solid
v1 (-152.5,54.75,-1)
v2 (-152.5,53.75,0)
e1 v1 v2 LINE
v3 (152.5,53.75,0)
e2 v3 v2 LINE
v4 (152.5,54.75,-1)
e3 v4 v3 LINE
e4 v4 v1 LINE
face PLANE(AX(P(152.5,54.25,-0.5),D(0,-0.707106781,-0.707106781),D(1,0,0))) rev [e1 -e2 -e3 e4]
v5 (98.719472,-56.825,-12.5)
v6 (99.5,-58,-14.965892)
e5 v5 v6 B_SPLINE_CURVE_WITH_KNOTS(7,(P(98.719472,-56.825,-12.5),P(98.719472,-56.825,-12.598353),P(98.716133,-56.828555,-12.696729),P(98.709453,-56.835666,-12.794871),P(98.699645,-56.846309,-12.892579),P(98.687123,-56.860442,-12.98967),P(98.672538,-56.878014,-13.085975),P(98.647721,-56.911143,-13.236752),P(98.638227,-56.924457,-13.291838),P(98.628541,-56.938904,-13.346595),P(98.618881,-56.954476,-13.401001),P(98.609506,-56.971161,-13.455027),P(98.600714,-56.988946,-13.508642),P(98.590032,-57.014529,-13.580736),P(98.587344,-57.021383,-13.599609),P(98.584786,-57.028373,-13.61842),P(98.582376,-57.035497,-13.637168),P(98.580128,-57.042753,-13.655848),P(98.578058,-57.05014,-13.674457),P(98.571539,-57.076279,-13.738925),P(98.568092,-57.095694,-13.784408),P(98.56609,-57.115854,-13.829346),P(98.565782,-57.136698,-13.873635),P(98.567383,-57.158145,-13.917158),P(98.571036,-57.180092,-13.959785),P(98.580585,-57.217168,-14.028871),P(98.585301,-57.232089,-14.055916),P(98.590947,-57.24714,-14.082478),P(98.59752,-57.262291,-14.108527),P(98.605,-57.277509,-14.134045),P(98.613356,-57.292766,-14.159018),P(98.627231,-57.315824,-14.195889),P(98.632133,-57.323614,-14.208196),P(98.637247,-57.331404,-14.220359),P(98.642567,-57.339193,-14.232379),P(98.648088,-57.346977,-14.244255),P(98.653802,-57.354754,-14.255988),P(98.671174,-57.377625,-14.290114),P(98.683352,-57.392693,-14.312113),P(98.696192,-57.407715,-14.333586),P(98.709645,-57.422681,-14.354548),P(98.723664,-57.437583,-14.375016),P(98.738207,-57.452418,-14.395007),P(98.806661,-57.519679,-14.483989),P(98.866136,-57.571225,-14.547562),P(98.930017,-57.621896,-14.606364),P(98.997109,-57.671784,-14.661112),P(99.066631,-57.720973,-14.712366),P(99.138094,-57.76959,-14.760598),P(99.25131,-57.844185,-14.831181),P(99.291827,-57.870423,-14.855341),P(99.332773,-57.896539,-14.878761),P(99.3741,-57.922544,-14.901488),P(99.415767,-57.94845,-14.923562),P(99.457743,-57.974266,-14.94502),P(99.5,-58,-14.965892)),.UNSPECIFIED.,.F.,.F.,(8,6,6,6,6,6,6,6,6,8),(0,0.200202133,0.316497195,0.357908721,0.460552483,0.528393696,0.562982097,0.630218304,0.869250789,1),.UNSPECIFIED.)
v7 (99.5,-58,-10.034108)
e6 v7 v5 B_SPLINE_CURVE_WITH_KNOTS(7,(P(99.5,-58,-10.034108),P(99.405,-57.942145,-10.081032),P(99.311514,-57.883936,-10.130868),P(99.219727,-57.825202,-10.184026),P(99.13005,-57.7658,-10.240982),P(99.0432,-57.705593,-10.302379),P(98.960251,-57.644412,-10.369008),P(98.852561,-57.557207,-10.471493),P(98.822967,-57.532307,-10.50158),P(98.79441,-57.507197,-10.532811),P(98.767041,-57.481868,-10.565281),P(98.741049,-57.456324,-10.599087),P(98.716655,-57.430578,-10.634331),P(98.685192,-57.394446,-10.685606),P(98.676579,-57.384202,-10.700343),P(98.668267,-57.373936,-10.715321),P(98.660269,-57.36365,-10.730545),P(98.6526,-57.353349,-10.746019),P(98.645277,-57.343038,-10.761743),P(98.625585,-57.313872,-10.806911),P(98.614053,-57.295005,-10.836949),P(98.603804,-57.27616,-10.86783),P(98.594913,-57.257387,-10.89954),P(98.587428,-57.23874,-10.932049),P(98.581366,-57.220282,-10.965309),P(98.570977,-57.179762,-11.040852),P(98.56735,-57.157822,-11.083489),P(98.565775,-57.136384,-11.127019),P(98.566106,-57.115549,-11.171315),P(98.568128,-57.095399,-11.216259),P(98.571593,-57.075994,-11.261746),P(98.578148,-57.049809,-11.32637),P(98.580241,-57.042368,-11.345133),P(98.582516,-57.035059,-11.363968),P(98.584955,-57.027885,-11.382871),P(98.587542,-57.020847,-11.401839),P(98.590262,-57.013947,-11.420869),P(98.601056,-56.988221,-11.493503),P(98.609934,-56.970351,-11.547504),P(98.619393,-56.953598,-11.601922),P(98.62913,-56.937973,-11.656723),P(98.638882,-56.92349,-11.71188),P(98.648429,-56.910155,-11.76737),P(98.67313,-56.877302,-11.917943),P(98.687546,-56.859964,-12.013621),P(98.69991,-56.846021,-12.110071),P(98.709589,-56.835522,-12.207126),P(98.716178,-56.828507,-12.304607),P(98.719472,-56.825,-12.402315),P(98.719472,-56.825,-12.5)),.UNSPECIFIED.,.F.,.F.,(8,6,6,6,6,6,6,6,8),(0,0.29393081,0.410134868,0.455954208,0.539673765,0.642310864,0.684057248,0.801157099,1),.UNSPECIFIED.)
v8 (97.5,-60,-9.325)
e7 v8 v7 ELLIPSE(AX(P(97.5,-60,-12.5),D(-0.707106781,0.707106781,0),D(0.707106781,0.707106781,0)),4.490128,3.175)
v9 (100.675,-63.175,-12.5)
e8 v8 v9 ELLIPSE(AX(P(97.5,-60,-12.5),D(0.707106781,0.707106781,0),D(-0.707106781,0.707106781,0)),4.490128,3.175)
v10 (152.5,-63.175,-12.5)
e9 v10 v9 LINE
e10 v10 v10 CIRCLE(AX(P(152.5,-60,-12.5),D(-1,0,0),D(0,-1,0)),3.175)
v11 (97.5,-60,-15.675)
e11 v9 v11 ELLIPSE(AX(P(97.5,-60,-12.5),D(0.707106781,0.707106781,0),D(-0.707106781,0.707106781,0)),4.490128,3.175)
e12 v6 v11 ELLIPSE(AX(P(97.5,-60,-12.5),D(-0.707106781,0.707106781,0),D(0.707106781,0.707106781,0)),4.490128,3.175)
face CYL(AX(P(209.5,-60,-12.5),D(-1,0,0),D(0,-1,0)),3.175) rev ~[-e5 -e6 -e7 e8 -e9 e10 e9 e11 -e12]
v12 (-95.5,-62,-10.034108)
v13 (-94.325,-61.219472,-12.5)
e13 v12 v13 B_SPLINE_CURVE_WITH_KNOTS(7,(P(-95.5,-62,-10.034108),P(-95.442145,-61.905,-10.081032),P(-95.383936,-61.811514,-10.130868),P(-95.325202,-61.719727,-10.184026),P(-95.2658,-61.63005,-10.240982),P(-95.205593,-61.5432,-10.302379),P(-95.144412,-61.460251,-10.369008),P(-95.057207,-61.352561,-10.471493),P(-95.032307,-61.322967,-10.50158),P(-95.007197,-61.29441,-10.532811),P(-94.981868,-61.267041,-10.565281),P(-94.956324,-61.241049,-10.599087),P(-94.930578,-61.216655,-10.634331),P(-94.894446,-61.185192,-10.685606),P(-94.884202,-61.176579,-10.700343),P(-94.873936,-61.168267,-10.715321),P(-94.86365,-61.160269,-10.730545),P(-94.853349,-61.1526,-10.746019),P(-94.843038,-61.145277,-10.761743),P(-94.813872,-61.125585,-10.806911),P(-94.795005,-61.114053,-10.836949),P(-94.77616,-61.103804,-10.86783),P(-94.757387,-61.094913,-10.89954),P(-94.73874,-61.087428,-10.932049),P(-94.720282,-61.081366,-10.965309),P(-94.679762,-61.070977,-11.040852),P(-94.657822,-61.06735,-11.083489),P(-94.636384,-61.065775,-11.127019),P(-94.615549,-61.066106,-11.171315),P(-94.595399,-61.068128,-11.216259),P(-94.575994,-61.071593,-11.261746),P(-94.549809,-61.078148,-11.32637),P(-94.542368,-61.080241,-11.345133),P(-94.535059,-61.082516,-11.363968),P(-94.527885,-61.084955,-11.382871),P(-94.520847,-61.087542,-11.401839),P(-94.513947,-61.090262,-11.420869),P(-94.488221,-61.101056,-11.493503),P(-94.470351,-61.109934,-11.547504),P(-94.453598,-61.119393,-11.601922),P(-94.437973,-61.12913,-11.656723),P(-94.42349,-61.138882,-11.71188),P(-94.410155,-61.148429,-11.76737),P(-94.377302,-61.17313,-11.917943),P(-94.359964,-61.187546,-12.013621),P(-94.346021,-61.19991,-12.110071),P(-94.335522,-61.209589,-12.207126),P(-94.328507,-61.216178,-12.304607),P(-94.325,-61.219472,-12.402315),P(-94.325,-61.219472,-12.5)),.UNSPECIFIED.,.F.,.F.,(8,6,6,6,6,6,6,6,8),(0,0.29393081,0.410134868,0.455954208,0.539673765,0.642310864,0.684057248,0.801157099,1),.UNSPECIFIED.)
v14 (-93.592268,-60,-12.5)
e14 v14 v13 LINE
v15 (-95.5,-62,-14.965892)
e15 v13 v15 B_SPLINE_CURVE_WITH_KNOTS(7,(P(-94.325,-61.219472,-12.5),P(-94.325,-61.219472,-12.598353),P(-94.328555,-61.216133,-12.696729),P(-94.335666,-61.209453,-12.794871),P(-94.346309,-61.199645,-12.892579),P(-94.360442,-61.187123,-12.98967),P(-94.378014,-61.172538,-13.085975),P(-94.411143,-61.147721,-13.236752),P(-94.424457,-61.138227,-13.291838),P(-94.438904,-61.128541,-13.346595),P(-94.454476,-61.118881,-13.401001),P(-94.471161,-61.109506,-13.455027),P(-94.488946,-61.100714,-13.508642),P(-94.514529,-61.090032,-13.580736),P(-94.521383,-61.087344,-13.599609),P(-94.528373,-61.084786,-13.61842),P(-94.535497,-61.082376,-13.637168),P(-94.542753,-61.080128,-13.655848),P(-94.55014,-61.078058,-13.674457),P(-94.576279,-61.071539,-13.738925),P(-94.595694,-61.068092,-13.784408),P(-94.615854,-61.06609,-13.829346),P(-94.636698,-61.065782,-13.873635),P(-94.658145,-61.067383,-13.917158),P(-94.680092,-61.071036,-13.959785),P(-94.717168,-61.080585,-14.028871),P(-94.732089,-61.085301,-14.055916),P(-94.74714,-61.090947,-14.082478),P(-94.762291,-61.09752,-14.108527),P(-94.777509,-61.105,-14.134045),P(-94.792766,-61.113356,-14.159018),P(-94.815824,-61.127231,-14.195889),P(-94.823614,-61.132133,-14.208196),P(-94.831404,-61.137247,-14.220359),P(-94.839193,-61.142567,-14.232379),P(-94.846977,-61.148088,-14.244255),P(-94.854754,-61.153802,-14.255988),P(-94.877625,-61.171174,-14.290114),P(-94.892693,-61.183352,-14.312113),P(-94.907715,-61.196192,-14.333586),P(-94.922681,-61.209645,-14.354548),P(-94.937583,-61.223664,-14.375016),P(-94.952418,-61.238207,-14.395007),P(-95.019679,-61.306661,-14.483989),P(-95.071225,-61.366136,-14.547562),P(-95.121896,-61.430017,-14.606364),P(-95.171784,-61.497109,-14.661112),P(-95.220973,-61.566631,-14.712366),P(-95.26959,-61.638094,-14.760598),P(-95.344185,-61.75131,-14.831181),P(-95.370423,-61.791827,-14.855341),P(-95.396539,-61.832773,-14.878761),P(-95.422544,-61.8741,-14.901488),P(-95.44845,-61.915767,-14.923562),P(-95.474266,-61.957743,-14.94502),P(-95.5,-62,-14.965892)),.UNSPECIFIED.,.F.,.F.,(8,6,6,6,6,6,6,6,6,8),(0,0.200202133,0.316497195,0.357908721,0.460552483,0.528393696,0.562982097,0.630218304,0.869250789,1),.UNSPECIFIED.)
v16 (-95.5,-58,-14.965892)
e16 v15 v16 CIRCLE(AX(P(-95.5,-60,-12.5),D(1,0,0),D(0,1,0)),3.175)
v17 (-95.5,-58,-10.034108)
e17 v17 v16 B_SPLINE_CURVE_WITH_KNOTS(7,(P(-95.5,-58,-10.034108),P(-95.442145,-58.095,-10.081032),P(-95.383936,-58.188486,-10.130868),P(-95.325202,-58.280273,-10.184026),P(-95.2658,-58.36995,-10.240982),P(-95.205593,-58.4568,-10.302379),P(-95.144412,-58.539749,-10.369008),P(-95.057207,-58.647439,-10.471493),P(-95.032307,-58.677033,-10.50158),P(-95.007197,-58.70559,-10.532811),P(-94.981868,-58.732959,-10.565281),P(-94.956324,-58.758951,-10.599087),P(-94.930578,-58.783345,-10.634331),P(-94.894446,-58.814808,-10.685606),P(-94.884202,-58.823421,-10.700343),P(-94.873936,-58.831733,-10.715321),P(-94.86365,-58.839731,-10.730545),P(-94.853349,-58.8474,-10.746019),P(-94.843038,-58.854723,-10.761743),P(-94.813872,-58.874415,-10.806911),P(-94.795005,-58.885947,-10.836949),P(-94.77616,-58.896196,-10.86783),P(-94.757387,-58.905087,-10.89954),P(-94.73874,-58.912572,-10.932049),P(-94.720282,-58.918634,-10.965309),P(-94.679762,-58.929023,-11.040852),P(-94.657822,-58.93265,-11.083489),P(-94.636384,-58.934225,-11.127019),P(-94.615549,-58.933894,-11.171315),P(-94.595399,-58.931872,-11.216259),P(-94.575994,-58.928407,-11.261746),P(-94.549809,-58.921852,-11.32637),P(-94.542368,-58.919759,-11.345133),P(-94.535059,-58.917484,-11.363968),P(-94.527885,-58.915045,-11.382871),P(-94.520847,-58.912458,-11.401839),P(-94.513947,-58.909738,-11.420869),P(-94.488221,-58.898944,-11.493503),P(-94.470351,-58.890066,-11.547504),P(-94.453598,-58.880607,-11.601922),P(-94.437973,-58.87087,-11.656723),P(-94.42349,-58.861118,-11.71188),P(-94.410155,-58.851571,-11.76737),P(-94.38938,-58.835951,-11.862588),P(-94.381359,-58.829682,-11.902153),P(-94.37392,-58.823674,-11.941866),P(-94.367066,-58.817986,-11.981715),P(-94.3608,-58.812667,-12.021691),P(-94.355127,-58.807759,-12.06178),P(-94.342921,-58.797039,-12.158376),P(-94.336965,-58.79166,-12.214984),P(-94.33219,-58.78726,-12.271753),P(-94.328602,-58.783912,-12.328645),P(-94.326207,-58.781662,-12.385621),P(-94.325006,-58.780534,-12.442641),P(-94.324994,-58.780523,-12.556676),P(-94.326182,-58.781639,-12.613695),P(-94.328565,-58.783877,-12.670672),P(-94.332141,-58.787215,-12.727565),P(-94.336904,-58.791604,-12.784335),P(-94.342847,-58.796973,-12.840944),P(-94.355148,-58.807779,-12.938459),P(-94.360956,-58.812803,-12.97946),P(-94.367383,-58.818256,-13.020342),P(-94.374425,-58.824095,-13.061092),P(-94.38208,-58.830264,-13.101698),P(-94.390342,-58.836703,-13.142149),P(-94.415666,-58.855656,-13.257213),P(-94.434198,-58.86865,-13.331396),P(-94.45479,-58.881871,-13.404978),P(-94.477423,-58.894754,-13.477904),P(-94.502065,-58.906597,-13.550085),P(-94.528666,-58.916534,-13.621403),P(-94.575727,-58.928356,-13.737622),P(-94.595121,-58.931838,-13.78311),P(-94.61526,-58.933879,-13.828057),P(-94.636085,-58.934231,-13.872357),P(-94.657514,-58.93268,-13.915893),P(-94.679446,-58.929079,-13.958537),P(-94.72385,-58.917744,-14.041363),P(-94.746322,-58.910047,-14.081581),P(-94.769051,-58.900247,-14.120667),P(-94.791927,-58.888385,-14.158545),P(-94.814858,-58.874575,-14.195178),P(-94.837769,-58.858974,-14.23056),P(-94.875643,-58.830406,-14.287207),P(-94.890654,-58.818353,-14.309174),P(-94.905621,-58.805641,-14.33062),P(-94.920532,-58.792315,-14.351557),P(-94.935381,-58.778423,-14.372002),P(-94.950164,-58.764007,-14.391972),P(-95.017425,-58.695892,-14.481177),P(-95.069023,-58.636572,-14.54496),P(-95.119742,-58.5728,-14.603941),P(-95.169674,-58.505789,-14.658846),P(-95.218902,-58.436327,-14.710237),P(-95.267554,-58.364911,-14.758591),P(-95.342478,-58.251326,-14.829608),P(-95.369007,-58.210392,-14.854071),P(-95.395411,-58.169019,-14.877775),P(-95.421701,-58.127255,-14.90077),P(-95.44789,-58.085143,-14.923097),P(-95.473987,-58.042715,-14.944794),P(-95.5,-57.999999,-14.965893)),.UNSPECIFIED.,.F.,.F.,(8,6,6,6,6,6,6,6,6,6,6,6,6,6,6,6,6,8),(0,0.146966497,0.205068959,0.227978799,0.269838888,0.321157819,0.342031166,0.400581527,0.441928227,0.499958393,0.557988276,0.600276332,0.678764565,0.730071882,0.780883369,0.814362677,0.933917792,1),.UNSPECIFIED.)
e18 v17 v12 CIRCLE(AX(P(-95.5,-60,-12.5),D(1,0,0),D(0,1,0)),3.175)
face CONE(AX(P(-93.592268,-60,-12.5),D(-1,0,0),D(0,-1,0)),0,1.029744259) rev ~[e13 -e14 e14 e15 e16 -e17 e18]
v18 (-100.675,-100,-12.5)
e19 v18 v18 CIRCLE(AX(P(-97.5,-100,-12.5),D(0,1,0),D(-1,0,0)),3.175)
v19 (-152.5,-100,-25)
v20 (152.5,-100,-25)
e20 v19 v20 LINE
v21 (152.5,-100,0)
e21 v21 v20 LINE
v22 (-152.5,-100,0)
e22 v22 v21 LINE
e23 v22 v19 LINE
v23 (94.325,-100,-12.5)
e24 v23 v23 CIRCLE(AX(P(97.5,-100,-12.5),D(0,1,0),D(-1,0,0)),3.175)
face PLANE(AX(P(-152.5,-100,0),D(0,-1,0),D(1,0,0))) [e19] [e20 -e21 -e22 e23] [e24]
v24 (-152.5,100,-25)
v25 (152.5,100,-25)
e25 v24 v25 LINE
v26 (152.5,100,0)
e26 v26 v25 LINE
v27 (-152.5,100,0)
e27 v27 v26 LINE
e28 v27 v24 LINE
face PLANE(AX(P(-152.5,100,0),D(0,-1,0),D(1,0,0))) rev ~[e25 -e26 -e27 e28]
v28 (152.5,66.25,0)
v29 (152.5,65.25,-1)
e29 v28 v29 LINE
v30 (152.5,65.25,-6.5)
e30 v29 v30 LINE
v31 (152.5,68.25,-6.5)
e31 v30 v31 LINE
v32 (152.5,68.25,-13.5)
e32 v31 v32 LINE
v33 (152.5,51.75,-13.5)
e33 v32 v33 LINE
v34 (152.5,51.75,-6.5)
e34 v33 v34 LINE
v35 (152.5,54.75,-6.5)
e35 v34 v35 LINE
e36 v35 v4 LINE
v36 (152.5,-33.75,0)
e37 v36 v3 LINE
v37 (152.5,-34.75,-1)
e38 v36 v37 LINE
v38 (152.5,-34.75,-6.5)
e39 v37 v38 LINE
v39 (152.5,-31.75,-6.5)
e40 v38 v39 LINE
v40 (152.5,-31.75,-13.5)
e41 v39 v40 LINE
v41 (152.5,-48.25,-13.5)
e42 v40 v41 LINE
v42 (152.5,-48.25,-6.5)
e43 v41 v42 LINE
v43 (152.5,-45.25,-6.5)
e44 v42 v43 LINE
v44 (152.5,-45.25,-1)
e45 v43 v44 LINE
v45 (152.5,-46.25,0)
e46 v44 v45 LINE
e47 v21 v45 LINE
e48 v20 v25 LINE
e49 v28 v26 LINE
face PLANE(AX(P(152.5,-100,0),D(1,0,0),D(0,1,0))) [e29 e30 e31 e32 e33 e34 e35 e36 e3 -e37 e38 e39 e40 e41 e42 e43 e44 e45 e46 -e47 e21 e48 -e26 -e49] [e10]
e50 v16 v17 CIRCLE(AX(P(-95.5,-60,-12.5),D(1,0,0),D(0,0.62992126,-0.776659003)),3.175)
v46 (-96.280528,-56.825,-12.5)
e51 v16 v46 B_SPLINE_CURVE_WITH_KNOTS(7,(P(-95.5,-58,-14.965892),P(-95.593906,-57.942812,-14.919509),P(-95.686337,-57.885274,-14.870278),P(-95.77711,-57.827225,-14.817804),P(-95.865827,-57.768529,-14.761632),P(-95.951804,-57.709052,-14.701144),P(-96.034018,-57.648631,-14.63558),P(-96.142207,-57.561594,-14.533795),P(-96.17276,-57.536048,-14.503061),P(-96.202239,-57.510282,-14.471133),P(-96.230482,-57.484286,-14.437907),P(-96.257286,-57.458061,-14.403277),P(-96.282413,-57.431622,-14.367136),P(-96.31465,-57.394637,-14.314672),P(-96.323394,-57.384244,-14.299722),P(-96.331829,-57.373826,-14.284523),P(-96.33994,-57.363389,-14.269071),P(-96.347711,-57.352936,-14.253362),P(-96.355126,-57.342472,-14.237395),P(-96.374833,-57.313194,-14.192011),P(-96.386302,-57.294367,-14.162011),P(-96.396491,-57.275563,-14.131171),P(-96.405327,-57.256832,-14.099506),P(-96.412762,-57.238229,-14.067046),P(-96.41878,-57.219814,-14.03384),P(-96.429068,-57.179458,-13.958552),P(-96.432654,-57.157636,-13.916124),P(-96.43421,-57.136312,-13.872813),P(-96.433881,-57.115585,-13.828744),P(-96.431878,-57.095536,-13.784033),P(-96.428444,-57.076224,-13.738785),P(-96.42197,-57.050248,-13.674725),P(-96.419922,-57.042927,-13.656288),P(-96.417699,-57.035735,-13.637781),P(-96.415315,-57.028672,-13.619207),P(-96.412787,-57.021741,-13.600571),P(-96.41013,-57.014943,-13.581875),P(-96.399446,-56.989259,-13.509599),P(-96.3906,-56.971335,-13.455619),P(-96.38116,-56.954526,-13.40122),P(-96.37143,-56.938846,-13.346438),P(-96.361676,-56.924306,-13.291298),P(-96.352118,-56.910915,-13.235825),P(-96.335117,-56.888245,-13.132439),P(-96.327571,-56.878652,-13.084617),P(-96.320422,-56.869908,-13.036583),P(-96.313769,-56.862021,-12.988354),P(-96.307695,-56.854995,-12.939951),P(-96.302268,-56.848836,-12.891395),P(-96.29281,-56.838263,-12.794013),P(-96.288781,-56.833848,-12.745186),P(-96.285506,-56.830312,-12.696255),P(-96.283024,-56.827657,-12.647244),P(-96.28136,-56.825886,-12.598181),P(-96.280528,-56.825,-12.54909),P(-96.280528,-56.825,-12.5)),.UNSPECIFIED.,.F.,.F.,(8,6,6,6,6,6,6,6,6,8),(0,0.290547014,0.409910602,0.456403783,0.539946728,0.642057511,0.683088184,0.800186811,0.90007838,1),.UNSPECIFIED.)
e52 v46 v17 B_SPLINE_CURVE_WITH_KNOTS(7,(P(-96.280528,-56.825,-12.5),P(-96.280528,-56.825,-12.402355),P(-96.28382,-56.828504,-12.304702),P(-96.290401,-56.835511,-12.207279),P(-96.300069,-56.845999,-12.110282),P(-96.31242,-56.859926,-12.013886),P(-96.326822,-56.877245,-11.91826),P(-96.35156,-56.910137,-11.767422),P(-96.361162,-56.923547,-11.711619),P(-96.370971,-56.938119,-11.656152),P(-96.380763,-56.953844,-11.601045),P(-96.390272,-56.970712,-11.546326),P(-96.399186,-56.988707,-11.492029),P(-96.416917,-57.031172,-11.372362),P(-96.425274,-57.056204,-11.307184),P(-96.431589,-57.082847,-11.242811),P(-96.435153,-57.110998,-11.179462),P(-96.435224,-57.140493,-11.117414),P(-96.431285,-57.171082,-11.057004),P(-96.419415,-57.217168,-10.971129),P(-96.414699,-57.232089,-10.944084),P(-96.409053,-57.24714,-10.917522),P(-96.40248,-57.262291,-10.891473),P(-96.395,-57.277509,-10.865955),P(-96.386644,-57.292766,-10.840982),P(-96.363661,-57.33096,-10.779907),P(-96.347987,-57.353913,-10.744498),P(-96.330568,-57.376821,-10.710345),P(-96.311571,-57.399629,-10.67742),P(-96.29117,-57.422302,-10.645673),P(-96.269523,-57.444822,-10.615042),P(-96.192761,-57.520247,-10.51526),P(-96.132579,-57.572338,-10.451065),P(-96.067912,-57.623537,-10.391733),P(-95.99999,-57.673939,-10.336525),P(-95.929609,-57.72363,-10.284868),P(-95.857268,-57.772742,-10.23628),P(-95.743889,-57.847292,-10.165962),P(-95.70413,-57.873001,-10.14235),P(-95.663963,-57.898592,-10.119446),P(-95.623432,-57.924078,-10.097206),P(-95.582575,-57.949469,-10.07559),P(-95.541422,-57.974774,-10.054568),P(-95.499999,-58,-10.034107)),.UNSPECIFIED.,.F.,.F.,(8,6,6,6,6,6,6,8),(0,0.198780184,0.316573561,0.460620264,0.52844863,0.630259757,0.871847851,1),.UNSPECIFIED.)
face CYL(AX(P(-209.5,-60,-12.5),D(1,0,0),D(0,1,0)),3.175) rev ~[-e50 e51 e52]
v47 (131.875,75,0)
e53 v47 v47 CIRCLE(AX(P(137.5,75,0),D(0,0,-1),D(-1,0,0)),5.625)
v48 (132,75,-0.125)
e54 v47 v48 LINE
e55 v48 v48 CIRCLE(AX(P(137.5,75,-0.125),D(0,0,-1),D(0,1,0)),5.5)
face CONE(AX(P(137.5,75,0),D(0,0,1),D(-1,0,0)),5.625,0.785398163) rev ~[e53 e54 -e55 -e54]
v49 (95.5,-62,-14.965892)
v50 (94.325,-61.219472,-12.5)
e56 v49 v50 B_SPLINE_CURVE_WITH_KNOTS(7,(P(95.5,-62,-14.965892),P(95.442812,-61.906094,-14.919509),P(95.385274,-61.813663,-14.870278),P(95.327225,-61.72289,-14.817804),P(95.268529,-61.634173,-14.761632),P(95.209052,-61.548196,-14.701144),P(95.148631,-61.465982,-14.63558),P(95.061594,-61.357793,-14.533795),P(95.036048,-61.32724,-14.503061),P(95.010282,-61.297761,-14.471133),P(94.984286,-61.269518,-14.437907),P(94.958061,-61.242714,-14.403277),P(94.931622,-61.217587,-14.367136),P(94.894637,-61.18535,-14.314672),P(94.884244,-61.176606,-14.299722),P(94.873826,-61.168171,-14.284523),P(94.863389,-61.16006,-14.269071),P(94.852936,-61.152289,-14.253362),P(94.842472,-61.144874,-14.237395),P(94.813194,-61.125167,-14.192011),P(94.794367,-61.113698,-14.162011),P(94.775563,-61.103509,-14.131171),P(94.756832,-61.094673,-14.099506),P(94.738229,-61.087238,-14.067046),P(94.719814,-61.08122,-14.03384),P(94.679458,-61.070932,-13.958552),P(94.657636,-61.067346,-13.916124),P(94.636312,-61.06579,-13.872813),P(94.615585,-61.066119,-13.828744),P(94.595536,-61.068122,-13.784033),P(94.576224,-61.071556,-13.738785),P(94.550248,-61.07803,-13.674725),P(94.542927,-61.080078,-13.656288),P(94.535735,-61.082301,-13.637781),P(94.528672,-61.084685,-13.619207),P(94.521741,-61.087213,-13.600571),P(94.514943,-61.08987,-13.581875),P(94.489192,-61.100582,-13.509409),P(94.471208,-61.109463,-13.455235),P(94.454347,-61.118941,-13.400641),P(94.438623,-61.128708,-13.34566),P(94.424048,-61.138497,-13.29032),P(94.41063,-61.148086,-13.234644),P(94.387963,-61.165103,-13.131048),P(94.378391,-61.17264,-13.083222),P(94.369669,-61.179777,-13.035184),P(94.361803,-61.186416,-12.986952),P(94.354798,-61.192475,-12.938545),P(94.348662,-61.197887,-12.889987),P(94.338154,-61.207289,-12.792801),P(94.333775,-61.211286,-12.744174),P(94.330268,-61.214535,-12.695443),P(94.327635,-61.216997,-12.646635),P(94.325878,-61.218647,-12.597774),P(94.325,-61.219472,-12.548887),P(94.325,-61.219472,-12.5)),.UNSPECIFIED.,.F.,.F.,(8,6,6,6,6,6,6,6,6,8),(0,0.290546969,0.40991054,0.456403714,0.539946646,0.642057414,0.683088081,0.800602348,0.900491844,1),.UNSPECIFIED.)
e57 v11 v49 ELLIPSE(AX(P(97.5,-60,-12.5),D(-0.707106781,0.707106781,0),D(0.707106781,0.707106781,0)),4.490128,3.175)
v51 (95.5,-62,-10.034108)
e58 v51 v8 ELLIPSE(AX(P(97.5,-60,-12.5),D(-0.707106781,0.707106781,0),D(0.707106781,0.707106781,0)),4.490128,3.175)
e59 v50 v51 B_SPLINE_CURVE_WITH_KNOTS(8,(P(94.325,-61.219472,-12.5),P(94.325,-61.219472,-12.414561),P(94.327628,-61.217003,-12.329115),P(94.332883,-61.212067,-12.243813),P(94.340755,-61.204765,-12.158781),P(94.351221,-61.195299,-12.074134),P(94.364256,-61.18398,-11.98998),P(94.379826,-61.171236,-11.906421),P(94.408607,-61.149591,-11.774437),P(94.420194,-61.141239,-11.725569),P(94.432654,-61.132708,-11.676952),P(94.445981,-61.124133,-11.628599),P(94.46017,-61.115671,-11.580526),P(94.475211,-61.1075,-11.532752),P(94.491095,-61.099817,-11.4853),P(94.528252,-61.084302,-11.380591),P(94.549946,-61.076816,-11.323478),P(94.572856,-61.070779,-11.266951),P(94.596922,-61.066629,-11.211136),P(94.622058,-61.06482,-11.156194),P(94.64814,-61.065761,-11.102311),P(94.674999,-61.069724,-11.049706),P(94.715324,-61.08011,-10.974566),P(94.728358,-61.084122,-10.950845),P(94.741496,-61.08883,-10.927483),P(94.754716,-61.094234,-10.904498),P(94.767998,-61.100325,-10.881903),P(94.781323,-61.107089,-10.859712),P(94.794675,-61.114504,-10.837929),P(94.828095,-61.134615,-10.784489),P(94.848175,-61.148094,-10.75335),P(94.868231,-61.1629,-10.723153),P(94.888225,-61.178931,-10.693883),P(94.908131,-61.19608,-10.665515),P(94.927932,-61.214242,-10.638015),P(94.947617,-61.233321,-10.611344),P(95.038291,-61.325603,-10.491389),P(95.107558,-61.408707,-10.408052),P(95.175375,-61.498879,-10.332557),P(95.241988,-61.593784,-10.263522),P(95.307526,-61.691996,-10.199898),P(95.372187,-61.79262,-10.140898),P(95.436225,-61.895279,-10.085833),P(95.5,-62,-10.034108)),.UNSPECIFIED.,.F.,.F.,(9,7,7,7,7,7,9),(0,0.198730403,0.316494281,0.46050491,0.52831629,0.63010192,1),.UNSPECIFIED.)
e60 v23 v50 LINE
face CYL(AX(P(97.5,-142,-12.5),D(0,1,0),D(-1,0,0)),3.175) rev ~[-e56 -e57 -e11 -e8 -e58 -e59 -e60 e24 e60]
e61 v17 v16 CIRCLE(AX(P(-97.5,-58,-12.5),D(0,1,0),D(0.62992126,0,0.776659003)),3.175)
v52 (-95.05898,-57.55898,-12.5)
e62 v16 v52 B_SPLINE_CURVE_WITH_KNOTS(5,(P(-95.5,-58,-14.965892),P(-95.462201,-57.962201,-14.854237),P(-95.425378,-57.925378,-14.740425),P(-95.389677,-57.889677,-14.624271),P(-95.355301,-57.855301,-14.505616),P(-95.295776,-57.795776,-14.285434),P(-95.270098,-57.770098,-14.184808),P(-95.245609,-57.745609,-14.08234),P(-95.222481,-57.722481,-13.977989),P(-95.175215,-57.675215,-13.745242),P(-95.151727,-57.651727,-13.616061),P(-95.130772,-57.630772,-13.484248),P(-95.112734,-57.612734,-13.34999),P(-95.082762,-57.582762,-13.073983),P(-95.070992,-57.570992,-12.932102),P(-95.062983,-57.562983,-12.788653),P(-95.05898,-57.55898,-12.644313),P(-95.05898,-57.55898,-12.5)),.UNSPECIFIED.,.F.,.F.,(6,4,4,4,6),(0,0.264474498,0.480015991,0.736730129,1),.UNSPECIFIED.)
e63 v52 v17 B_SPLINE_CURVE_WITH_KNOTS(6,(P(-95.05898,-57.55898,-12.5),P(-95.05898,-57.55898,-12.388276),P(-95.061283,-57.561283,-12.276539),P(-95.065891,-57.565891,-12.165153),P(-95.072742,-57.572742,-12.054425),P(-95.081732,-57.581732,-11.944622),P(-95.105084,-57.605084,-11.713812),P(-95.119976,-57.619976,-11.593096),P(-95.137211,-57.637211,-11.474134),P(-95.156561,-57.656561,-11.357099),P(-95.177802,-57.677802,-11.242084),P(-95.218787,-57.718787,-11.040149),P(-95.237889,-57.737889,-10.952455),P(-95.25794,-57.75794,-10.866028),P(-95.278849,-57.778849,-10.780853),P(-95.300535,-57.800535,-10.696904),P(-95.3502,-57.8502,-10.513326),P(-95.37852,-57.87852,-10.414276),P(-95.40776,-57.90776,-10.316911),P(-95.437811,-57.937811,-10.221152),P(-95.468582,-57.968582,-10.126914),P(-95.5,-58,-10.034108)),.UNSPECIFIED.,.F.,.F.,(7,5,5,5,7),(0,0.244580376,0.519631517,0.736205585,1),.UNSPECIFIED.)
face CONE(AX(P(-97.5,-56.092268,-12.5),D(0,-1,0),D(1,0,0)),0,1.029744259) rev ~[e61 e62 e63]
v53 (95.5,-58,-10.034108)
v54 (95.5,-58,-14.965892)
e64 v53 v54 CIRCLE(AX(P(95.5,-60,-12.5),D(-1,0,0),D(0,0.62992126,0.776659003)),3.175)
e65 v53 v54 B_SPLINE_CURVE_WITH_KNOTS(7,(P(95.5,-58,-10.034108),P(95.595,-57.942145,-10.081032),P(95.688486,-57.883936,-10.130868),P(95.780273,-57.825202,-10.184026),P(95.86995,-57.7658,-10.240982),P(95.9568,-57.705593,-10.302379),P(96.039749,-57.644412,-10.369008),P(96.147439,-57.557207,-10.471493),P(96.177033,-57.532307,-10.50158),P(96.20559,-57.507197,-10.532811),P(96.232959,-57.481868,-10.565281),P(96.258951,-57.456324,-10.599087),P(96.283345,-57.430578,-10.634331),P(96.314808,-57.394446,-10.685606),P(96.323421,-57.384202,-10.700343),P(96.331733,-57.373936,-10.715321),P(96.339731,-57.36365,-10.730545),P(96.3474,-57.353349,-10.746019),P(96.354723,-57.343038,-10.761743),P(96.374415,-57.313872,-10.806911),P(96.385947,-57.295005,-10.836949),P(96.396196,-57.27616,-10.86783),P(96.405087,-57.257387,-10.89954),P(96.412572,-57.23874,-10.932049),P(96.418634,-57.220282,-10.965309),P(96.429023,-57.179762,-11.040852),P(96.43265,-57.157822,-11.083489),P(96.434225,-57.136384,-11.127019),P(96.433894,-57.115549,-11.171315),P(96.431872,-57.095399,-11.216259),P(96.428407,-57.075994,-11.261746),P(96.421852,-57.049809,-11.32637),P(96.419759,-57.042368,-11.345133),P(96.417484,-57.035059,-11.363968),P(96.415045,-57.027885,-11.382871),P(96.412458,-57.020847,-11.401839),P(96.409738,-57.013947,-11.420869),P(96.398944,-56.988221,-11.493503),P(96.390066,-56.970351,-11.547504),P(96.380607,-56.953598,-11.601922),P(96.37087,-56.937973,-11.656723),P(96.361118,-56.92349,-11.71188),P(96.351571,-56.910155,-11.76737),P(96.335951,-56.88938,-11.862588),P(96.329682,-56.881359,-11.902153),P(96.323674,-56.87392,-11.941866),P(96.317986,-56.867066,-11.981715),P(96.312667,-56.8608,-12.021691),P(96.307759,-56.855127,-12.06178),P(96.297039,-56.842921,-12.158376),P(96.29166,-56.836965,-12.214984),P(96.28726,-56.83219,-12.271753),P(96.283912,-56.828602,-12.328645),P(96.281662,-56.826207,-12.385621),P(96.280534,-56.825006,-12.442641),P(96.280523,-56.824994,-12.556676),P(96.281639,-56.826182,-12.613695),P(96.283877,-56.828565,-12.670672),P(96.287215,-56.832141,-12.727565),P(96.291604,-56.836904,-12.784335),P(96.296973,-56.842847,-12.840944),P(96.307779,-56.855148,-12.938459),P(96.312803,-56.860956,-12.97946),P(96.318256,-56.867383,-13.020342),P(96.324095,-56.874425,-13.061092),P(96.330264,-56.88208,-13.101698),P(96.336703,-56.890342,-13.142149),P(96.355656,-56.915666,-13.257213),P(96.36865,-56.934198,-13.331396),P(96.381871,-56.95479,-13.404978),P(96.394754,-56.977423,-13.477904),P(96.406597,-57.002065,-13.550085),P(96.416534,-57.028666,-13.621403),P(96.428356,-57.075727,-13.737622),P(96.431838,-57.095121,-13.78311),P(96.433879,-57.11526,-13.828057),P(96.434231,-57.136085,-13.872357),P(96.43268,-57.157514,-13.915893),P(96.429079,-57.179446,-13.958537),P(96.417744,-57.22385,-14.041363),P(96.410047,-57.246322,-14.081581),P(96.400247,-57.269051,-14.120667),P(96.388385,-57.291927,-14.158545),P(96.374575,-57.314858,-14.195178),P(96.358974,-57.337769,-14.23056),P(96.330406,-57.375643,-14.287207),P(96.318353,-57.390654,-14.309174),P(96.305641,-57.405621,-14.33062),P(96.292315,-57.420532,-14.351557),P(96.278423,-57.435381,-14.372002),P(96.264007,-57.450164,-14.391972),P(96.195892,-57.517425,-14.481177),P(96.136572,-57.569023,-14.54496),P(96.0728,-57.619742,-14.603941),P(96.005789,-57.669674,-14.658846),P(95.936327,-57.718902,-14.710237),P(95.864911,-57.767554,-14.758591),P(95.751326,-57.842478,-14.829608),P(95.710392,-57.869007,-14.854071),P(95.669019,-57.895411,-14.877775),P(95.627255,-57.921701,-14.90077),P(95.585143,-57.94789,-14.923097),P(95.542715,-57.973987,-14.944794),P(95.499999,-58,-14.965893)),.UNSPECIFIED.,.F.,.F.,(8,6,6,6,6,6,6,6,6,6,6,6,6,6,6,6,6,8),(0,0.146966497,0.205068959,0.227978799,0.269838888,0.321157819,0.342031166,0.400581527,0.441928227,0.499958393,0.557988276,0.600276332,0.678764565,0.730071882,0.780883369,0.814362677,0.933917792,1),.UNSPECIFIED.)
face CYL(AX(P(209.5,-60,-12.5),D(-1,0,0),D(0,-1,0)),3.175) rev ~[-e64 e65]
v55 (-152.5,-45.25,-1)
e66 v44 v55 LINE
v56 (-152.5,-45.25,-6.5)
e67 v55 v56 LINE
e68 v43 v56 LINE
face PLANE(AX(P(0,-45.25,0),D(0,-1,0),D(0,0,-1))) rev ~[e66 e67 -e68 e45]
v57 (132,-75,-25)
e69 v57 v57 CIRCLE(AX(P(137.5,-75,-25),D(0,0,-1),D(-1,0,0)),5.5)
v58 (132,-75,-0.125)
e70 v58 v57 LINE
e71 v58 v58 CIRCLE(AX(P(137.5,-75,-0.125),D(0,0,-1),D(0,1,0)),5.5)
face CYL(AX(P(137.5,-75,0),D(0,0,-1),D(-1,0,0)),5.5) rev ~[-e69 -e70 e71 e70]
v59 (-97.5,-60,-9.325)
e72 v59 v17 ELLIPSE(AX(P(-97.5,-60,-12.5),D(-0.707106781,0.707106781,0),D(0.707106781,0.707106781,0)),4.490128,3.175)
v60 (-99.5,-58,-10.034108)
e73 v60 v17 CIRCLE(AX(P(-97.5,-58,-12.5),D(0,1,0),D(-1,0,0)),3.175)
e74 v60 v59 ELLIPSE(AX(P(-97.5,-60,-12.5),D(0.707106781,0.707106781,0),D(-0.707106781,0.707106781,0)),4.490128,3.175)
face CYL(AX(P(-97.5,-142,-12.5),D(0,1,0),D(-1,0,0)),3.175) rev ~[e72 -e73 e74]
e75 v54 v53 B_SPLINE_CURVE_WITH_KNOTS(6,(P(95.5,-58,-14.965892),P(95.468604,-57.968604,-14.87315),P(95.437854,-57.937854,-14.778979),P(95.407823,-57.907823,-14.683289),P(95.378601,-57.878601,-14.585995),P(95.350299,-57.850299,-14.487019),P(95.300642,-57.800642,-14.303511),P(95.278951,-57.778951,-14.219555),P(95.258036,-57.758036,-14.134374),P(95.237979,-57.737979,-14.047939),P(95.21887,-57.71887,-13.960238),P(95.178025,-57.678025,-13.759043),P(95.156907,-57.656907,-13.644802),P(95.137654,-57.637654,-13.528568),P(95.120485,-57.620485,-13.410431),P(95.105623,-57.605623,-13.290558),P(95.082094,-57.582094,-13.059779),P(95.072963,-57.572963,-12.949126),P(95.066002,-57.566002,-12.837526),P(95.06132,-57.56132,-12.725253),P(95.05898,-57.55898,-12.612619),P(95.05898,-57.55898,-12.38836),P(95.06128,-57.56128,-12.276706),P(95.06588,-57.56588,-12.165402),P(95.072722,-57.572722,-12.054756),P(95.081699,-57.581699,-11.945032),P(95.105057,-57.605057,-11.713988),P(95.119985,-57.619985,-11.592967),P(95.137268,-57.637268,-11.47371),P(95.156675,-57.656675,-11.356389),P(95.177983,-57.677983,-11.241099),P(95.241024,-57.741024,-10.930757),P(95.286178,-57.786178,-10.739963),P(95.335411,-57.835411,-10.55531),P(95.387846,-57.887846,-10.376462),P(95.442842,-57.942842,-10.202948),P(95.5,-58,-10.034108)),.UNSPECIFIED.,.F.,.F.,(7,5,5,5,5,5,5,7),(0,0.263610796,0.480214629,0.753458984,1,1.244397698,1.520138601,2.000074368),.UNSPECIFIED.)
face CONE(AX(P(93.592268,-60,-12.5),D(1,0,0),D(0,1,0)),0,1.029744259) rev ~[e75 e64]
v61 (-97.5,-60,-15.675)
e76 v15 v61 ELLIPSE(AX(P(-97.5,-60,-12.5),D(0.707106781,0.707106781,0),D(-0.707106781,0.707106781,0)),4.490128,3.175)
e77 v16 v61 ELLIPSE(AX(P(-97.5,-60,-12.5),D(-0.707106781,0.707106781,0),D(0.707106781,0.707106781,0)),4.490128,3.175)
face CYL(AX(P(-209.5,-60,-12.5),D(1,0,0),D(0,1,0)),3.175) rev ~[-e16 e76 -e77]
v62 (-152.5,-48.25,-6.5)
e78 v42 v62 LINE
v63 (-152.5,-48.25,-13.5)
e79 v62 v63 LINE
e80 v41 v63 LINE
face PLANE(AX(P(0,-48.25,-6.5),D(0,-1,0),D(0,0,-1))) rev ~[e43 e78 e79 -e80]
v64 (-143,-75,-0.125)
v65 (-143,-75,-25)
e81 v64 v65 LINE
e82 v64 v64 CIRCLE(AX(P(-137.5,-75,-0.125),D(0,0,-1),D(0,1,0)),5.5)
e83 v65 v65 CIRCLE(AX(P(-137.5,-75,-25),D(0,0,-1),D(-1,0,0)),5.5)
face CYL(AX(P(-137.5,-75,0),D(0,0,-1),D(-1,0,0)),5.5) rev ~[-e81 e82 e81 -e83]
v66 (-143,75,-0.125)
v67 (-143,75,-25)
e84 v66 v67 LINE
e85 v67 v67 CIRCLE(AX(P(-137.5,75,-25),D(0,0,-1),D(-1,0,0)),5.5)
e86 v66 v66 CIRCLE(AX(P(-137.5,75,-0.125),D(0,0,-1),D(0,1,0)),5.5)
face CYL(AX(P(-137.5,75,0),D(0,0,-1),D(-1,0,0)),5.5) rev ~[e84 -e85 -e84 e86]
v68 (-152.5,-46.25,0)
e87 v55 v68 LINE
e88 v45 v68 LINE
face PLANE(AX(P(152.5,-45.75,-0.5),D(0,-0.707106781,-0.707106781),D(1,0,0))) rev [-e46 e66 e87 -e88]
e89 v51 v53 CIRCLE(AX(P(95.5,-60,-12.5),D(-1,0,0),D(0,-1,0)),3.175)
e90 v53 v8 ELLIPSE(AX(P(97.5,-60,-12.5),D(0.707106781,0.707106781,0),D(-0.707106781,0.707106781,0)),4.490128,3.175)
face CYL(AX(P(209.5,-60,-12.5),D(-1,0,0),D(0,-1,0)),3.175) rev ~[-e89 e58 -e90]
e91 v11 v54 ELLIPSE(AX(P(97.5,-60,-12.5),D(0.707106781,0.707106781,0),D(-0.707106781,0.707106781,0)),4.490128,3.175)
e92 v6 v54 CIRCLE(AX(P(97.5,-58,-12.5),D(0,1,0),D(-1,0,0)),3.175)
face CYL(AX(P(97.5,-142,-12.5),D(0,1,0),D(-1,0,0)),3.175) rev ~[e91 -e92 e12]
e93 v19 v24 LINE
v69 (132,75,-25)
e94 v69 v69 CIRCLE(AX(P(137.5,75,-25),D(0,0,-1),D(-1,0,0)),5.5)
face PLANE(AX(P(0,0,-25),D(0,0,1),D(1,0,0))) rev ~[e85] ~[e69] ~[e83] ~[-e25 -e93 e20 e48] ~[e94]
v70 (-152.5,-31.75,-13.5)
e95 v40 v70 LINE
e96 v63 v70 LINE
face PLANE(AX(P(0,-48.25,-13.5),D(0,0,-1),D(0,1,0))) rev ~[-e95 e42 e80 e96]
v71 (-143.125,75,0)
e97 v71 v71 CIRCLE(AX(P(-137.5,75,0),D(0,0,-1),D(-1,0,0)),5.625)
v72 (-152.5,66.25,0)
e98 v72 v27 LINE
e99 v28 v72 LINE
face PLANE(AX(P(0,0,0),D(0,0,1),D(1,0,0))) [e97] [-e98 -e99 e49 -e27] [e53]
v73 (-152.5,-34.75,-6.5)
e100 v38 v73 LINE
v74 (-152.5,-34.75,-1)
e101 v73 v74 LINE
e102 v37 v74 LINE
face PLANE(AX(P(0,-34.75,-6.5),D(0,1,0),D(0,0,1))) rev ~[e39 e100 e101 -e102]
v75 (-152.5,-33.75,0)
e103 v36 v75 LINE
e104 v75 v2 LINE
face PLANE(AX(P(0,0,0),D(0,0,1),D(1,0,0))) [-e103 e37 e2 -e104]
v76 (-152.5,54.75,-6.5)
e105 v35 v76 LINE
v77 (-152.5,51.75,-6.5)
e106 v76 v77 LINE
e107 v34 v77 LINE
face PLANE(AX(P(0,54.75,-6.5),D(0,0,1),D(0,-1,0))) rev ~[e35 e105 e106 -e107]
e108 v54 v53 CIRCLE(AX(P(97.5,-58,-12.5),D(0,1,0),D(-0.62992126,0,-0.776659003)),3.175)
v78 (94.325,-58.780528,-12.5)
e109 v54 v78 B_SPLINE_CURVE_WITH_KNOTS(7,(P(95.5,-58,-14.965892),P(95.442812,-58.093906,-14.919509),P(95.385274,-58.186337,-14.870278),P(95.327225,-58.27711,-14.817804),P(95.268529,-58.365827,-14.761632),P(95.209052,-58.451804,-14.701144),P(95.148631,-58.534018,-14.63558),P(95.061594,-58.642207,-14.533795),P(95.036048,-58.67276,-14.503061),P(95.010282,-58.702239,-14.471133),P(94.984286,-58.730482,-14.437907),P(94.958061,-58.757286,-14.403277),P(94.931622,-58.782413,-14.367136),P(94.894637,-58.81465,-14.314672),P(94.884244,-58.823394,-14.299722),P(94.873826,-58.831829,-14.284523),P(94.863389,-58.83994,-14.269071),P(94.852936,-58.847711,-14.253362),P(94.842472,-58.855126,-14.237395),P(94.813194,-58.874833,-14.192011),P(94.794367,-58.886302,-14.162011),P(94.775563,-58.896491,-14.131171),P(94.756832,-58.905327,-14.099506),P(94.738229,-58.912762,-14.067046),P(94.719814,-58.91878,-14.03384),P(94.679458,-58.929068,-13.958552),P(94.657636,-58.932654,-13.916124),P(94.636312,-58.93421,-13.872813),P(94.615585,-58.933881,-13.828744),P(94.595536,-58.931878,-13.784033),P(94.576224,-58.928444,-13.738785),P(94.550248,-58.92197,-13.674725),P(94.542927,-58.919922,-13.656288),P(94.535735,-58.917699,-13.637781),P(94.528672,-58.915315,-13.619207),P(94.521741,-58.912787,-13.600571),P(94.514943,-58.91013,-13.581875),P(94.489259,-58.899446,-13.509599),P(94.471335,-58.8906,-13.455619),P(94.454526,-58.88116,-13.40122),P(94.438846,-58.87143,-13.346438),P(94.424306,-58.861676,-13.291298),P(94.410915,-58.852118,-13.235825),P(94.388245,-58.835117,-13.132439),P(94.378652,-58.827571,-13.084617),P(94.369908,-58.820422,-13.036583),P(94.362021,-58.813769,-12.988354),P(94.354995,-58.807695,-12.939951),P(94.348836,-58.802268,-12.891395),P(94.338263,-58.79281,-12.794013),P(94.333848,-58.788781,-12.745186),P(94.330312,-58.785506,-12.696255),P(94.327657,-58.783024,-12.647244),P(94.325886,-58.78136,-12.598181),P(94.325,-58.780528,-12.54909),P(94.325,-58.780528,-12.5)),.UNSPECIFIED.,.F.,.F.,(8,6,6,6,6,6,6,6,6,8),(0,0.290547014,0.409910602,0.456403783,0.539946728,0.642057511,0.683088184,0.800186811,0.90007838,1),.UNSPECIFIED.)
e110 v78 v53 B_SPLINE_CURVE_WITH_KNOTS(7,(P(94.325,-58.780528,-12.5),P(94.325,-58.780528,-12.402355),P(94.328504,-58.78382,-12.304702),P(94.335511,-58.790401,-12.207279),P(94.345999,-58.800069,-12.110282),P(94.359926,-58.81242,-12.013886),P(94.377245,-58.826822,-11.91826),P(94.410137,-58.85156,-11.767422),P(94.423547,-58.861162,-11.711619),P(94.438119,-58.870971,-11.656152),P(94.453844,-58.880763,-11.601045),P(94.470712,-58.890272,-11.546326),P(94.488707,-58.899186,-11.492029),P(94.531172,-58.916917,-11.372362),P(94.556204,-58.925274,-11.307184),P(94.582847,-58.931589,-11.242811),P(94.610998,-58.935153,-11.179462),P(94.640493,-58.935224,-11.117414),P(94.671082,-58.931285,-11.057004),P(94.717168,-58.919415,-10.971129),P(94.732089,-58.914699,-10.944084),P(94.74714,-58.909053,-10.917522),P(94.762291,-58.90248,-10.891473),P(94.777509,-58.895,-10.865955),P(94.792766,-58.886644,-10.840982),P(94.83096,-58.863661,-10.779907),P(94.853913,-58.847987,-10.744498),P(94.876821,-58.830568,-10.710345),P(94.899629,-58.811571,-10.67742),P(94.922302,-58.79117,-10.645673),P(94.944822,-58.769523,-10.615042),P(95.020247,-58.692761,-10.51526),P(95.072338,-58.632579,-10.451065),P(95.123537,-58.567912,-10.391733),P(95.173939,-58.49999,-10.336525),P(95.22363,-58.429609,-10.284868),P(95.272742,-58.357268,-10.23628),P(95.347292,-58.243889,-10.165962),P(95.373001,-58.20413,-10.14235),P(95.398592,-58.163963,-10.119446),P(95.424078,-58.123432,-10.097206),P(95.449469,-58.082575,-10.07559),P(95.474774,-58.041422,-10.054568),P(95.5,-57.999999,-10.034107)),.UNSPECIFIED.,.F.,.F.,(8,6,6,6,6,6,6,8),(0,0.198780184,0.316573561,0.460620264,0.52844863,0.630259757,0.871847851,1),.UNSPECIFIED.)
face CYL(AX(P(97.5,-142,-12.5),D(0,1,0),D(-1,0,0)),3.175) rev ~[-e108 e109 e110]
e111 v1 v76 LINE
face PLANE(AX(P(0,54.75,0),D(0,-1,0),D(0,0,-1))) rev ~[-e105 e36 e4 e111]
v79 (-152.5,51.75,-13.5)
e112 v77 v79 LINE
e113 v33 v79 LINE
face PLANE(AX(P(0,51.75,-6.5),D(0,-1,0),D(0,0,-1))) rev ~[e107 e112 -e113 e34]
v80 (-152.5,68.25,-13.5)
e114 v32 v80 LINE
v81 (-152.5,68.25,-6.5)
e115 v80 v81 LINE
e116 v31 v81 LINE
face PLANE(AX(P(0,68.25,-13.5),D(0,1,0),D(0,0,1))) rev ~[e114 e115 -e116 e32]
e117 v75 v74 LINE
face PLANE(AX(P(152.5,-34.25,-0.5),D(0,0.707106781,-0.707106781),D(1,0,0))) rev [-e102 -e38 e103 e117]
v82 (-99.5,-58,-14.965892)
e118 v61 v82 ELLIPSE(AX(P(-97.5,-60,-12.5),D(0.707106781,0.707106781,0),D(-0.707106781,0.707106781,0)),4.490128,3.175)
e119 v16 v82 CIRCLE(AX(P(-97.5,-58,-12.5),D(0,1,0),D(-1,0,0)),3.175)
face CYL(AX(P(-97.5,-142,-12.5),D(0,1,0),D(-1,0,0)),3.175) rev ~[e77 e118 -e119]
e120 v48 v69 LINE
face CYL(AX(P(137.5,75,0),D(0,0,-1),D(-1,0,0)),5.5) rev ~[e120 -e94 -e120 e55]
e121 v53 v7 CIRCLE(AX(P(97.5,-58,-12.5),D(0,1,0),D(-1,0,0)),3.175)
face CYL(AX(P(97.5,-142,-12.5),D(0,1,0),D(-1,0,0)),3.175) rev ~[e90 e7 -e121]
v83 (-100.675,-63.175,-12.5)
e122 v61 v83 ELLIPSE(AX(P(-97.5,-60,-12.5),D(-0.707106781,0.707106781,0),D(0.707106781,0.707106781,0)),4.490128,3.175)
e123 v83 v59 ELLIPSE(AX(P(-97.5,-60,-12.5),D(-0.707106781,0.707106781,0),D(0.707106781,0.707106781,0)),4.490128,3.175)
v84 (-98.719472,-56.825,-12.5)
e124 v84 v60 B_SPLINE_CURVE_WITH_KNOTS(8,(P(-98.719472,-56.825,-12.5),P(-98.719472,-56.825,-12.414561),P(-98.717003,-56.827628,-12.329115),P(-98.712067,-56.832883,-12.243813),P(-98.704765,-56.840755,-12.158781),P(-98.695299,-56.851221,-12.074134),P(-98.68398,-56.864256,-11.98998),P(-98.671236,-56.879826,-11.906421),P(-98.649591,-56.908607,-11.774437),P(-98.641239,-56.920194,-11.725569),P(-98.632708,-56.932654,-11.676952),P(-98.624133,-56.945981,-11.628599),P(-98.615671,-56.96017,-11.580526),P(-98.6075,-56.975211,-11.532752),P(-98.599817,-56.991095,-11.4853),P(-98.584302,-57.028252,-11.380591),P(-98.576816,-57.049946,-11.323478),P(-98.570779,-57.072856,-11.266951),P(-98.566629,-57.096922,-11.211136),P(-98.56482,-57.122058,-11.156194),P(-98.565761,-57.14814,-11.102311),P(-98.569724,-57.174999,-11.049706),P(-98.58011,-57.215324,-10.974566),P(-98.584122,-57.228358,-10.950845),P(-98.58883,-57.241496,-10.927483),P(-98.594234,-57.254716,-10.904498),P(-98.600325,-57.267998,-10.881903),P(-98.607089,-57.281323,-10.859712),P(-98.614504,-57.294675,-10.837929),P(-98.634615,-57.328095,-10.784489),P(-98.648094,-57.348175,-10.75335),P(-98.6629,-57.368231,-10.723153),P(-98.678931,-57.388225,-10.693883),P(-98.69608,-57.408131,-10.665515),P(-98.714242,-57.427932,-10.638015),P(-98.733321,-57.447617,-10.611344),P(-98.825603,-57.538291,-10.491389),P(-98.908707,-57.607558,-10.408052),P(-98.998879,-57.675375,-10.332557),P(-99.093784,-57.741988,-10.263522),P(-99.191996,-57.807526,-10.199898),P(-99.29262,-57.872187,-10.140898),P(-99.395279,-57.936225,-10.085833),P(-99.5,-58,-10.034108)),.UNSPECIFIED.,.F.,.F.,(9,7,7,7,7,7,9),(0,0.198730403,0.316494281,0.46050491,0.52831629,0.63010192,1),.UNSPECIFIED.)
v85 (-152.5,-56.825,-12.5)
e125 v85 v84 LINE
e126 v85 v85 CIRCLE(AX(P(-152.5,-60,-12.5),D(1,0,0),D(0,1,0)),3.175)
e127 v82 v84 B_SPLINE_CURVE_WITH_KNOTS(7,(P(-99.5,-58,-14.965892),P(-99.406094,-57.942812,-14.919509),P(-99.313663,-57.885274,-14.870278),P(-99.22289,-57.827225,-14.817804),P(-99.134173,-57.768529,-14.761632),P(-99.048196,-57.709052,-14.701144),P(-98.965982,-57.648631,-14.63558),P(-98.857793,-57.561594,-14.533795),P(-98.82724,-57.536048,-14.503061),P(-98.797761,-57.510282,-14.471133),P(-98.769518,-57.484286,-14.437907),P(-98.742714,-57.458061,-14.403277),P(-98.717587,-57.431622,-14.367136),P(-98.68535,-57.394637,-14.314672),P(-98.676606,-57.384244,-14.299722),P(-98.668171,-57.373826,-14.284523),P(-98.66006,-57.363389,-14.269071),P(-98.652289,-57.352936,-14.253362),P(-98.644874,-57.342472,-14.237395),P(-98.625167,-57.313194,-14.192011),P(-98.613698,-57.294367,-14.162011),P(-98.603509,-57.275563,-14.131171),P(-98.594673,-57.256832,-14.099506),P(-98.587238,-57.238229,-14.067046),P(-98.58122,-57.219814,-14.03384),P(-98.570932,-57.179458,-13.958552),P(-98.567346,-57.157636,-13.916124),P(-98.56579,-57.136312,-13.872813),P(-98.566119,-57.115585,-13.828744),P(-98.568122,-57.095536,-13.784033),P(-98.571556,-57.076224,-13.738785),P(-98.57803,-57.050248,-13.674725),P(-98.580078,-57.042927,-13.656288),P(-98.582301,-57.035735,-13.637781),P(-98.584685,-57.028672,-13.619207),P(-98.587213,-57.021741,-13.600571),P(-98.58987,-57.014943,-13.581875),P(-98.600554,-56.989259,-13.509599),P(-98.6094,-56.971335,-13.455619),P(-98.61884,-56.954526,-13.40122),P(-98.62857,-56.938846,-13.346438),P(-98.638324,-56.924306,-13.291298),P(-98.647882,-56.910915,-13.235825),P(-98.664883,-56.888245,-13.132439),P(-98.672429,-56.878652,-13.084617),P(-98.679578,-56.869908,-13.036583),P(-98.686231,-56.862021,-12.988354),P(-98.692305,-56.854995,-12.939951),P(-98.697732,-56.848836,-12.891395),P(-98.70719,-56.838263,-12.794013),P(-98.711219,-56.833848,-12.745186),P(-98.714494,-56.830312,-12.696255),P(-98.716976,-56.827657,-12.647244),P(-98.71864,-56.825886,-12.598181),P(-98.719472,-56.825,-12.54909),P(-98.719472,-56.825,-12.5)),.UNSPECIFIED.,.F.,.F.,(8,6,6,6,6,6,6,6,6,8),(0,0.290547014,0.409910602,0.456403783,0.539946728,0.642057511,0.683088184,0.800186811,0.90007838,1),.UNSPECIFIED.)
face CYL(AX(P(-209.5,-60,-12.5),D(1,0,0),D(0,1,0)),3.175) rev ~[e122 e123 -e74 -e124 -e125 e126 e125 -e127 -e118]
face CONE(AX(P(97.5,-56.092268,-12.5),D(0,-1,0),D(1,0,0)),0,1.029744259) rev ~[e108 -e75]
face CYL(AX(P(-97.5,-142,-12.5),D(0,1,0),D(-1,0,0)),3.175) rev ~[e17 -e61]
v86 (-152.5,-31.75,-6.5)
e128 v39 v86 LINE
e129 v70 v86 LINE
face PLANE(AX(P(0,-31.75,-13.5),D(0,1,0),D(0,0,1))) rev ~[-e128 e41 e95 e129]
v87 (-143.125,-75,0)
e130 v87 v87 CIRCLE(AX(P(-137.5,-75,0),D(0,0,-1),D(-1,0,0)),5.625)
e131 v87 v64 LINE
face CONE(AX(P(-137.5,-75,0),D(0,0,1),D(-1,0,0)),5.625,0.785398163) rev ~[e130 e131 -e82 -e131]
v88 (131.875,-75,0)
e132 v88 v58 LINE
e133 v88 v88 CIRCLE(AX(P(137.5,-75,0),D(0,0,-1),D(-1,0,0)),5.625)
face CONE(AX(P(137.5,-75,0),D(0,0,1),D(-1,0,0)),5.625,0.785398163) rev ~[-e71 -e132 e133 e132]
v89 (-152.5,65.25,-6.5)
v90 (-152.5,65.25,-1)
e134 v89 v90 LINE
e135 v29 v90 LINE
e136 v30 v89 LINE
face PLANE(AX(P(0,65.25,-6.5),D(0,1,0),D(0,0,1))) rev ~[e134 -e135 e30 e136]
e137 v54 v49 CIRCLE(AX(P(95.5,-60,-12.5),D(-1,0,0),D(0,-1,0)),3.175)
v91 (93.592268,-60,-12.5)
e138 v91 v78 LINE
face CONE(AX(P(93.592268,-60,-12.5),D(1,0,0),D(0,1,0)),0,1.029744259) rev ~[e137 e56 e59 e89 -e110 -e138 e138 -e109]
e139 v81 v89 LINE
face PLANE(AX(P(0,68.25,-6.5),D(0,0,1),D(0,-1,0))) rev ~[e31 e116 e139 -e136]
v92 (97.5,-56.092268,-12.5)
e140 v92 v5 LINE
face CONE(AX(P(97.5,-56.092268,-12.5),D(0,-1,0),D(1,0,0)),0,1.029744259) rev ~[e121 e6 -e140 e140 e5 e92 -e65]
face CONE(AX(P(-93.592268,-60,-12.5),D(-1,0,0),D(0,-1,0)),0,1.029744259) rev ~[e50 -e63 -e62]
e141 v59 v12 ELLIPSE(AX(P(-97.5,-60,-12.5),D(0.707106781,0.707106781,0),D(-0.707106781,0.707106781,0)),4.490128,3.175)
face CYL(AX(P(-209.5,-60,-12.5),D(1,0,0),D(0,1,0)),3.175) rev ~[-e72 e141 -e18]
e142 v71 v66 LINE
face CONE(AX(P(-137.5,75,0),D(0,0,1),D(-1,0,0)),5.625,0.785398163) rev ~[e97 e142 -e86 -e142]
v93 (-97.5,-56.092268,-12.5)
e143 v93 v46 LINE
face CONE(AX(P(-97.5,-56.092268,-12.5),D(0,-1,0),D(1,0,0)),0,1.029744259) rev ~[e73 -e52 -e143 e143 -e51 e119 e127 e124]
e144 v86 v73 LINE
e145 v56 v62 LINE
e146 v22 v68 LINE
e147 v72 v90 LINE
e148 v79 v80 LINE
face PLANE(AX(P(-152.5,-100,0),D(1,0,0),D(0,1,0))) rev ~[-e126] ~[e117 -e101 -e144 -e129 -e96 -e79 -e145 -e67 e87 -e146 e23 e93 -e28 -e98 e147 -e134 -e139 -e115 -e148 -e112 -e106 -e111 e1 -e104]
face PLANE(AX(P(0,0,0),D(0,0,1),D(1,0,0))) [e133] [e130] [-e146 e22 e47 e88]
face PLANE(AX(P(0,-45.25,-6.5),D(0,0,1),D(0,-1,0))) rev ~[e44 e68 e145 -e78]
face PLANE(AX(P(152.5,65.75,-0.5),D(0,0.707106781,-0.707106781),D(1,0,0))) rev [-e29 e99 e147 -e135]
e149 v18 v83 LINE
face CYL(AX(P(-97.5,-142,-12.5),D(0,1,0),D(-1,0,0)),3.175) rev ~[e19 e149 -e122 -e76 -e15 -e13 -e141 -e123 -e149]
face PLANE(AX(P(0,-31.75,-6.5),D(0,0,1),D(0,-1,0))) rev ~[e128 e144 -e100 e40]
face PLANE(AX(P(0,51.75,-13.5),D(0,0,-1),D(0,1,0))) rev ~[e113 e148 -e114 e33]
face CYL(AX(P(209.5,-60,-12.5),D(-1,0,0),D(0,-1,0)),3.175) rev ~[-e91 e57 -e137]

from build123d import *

# Parameters (mm, degrees)
F0_W            = 305
F0_H            = 200
F1_DEPTH        = 25
F3_D            = 11
F3_CSINK_D      = 11.25
F3_CSINK_ANGLE  = 90
F5_DEPTH        = 152.501
F5_DEPTH_BACK   = 152.501
F6_SIZE         = 1
F10_D           = 6.35
F10_DEPTH       = 42
F10_TIP         = 1.9077324654
F11_D           = 6.35
F11_DEPTH       = 57
F11_TIP         = 1.9077324654
F11_ON_F8_D     = 6.35
F11_ON_F8_DEPTH = 57
F11_ON_F8_TIP   = 1.9077324654


with BuildPart() as f1:
    # F0 (on Top) → F1 (new body)
    with BuildSketch(Plane.XY):
        Rectangle(F0_W, F0_H)
    extrude(amount=-F1_DEPTH)

    # F3 (through all)
    with Locations(Plane.XY):
        with Locations((-137.5, 75), (137.5, 75), (137.5, -75), (-137.5, -75)):
            CounterSinkHole(F3_D / 2, F3_CSINK_D / 2, counter_sink_angle=F3_CSINK_ANGLE)

    # F4 (on Right) → F5 (cut, two sides)
    with BuildSketch(Plane.YZ) as f5_sk:
        Polygon((-34.75, 0), (-40, 0), (-45.25, 0), (-45.25, -6.5), (-48.25, -6.5), (-48.25, -13.5), (-40, -13.5), (-31.75, -13.5), (-31.75, -6.5), (-34.75, -6.5), align=None)
        Polygon((65.25, 0), (60, 0), (54.75, 0), (54.75, -6.5), (51.75, -6.5), (51.75, -13.5), (60, -13.5), (68.25, -13.5), (68.25, -6.5), (65.25, -6.5), align=None)
    extrude(amount=-F5_DEPTH, mode=Mode.SUBTRACT)
    extrude(f5_sk.sketch, amount=F5_DEPTH_BACK, mode=Mode.SUBTRACT)

    # F6
    f6_edges = [f1.edges().sort_by_distance(p)[0] for p in [
        (0, -34.75, 0),
        (0, -45.25, 0),
        (0, 65.25, 0),
        (0, 54.75, 0),
    ]]
    chamfer(f6_edges, length=F6_SIZE)

    # F10
    with Locations(Plane.XZ.offset(100)):
        with Locations((97.5, -12.5), (-97.5, -12.5)):
            Hole(F10_D / 2, depth=F10_DEPTH)
            with Locations((0, 0, -(F10_DEPTH + F10_TIP / 2))):  # 118° drill point
                Cone(0, F10_D / 2, F10_TIP, mode=Mode.SUBTRACT)

    # F11
    with Locations(Plane(origin=(-152.5, 0, 0), x_dir=(0, -1, 0), z_dir=(-1, 0, 0))):
        with Locations((60, -12.5)):
            Hole(F11_D / 2, depth=F11_DEPTH)
            with Locations((0, 0, -(F11_DEPTH + F11_TIP / 2))):  # 118° drill point
                Cone(0, F11_D / 2, F11_TIP, mode=Mode.SUBTRACT)

    # F11 on F8
    with Locations(Plane.YZ.offset(152.5)):
        with Locations((-60, -12.5)):
            Hole(F11_ON_F8_D / 2, depth=F11_ON_F8_DEPTH)
            with Locations((0, 0, -(F11_ON_F8_DEPTH + F11_ON_F8_TIP / 2))):  # 118° drill point
                Cone(0, F11_ON_F8_D / 2, F11_ON_F8_TIP, mode=Mode.SUBTRACT)


solid = f1.part
